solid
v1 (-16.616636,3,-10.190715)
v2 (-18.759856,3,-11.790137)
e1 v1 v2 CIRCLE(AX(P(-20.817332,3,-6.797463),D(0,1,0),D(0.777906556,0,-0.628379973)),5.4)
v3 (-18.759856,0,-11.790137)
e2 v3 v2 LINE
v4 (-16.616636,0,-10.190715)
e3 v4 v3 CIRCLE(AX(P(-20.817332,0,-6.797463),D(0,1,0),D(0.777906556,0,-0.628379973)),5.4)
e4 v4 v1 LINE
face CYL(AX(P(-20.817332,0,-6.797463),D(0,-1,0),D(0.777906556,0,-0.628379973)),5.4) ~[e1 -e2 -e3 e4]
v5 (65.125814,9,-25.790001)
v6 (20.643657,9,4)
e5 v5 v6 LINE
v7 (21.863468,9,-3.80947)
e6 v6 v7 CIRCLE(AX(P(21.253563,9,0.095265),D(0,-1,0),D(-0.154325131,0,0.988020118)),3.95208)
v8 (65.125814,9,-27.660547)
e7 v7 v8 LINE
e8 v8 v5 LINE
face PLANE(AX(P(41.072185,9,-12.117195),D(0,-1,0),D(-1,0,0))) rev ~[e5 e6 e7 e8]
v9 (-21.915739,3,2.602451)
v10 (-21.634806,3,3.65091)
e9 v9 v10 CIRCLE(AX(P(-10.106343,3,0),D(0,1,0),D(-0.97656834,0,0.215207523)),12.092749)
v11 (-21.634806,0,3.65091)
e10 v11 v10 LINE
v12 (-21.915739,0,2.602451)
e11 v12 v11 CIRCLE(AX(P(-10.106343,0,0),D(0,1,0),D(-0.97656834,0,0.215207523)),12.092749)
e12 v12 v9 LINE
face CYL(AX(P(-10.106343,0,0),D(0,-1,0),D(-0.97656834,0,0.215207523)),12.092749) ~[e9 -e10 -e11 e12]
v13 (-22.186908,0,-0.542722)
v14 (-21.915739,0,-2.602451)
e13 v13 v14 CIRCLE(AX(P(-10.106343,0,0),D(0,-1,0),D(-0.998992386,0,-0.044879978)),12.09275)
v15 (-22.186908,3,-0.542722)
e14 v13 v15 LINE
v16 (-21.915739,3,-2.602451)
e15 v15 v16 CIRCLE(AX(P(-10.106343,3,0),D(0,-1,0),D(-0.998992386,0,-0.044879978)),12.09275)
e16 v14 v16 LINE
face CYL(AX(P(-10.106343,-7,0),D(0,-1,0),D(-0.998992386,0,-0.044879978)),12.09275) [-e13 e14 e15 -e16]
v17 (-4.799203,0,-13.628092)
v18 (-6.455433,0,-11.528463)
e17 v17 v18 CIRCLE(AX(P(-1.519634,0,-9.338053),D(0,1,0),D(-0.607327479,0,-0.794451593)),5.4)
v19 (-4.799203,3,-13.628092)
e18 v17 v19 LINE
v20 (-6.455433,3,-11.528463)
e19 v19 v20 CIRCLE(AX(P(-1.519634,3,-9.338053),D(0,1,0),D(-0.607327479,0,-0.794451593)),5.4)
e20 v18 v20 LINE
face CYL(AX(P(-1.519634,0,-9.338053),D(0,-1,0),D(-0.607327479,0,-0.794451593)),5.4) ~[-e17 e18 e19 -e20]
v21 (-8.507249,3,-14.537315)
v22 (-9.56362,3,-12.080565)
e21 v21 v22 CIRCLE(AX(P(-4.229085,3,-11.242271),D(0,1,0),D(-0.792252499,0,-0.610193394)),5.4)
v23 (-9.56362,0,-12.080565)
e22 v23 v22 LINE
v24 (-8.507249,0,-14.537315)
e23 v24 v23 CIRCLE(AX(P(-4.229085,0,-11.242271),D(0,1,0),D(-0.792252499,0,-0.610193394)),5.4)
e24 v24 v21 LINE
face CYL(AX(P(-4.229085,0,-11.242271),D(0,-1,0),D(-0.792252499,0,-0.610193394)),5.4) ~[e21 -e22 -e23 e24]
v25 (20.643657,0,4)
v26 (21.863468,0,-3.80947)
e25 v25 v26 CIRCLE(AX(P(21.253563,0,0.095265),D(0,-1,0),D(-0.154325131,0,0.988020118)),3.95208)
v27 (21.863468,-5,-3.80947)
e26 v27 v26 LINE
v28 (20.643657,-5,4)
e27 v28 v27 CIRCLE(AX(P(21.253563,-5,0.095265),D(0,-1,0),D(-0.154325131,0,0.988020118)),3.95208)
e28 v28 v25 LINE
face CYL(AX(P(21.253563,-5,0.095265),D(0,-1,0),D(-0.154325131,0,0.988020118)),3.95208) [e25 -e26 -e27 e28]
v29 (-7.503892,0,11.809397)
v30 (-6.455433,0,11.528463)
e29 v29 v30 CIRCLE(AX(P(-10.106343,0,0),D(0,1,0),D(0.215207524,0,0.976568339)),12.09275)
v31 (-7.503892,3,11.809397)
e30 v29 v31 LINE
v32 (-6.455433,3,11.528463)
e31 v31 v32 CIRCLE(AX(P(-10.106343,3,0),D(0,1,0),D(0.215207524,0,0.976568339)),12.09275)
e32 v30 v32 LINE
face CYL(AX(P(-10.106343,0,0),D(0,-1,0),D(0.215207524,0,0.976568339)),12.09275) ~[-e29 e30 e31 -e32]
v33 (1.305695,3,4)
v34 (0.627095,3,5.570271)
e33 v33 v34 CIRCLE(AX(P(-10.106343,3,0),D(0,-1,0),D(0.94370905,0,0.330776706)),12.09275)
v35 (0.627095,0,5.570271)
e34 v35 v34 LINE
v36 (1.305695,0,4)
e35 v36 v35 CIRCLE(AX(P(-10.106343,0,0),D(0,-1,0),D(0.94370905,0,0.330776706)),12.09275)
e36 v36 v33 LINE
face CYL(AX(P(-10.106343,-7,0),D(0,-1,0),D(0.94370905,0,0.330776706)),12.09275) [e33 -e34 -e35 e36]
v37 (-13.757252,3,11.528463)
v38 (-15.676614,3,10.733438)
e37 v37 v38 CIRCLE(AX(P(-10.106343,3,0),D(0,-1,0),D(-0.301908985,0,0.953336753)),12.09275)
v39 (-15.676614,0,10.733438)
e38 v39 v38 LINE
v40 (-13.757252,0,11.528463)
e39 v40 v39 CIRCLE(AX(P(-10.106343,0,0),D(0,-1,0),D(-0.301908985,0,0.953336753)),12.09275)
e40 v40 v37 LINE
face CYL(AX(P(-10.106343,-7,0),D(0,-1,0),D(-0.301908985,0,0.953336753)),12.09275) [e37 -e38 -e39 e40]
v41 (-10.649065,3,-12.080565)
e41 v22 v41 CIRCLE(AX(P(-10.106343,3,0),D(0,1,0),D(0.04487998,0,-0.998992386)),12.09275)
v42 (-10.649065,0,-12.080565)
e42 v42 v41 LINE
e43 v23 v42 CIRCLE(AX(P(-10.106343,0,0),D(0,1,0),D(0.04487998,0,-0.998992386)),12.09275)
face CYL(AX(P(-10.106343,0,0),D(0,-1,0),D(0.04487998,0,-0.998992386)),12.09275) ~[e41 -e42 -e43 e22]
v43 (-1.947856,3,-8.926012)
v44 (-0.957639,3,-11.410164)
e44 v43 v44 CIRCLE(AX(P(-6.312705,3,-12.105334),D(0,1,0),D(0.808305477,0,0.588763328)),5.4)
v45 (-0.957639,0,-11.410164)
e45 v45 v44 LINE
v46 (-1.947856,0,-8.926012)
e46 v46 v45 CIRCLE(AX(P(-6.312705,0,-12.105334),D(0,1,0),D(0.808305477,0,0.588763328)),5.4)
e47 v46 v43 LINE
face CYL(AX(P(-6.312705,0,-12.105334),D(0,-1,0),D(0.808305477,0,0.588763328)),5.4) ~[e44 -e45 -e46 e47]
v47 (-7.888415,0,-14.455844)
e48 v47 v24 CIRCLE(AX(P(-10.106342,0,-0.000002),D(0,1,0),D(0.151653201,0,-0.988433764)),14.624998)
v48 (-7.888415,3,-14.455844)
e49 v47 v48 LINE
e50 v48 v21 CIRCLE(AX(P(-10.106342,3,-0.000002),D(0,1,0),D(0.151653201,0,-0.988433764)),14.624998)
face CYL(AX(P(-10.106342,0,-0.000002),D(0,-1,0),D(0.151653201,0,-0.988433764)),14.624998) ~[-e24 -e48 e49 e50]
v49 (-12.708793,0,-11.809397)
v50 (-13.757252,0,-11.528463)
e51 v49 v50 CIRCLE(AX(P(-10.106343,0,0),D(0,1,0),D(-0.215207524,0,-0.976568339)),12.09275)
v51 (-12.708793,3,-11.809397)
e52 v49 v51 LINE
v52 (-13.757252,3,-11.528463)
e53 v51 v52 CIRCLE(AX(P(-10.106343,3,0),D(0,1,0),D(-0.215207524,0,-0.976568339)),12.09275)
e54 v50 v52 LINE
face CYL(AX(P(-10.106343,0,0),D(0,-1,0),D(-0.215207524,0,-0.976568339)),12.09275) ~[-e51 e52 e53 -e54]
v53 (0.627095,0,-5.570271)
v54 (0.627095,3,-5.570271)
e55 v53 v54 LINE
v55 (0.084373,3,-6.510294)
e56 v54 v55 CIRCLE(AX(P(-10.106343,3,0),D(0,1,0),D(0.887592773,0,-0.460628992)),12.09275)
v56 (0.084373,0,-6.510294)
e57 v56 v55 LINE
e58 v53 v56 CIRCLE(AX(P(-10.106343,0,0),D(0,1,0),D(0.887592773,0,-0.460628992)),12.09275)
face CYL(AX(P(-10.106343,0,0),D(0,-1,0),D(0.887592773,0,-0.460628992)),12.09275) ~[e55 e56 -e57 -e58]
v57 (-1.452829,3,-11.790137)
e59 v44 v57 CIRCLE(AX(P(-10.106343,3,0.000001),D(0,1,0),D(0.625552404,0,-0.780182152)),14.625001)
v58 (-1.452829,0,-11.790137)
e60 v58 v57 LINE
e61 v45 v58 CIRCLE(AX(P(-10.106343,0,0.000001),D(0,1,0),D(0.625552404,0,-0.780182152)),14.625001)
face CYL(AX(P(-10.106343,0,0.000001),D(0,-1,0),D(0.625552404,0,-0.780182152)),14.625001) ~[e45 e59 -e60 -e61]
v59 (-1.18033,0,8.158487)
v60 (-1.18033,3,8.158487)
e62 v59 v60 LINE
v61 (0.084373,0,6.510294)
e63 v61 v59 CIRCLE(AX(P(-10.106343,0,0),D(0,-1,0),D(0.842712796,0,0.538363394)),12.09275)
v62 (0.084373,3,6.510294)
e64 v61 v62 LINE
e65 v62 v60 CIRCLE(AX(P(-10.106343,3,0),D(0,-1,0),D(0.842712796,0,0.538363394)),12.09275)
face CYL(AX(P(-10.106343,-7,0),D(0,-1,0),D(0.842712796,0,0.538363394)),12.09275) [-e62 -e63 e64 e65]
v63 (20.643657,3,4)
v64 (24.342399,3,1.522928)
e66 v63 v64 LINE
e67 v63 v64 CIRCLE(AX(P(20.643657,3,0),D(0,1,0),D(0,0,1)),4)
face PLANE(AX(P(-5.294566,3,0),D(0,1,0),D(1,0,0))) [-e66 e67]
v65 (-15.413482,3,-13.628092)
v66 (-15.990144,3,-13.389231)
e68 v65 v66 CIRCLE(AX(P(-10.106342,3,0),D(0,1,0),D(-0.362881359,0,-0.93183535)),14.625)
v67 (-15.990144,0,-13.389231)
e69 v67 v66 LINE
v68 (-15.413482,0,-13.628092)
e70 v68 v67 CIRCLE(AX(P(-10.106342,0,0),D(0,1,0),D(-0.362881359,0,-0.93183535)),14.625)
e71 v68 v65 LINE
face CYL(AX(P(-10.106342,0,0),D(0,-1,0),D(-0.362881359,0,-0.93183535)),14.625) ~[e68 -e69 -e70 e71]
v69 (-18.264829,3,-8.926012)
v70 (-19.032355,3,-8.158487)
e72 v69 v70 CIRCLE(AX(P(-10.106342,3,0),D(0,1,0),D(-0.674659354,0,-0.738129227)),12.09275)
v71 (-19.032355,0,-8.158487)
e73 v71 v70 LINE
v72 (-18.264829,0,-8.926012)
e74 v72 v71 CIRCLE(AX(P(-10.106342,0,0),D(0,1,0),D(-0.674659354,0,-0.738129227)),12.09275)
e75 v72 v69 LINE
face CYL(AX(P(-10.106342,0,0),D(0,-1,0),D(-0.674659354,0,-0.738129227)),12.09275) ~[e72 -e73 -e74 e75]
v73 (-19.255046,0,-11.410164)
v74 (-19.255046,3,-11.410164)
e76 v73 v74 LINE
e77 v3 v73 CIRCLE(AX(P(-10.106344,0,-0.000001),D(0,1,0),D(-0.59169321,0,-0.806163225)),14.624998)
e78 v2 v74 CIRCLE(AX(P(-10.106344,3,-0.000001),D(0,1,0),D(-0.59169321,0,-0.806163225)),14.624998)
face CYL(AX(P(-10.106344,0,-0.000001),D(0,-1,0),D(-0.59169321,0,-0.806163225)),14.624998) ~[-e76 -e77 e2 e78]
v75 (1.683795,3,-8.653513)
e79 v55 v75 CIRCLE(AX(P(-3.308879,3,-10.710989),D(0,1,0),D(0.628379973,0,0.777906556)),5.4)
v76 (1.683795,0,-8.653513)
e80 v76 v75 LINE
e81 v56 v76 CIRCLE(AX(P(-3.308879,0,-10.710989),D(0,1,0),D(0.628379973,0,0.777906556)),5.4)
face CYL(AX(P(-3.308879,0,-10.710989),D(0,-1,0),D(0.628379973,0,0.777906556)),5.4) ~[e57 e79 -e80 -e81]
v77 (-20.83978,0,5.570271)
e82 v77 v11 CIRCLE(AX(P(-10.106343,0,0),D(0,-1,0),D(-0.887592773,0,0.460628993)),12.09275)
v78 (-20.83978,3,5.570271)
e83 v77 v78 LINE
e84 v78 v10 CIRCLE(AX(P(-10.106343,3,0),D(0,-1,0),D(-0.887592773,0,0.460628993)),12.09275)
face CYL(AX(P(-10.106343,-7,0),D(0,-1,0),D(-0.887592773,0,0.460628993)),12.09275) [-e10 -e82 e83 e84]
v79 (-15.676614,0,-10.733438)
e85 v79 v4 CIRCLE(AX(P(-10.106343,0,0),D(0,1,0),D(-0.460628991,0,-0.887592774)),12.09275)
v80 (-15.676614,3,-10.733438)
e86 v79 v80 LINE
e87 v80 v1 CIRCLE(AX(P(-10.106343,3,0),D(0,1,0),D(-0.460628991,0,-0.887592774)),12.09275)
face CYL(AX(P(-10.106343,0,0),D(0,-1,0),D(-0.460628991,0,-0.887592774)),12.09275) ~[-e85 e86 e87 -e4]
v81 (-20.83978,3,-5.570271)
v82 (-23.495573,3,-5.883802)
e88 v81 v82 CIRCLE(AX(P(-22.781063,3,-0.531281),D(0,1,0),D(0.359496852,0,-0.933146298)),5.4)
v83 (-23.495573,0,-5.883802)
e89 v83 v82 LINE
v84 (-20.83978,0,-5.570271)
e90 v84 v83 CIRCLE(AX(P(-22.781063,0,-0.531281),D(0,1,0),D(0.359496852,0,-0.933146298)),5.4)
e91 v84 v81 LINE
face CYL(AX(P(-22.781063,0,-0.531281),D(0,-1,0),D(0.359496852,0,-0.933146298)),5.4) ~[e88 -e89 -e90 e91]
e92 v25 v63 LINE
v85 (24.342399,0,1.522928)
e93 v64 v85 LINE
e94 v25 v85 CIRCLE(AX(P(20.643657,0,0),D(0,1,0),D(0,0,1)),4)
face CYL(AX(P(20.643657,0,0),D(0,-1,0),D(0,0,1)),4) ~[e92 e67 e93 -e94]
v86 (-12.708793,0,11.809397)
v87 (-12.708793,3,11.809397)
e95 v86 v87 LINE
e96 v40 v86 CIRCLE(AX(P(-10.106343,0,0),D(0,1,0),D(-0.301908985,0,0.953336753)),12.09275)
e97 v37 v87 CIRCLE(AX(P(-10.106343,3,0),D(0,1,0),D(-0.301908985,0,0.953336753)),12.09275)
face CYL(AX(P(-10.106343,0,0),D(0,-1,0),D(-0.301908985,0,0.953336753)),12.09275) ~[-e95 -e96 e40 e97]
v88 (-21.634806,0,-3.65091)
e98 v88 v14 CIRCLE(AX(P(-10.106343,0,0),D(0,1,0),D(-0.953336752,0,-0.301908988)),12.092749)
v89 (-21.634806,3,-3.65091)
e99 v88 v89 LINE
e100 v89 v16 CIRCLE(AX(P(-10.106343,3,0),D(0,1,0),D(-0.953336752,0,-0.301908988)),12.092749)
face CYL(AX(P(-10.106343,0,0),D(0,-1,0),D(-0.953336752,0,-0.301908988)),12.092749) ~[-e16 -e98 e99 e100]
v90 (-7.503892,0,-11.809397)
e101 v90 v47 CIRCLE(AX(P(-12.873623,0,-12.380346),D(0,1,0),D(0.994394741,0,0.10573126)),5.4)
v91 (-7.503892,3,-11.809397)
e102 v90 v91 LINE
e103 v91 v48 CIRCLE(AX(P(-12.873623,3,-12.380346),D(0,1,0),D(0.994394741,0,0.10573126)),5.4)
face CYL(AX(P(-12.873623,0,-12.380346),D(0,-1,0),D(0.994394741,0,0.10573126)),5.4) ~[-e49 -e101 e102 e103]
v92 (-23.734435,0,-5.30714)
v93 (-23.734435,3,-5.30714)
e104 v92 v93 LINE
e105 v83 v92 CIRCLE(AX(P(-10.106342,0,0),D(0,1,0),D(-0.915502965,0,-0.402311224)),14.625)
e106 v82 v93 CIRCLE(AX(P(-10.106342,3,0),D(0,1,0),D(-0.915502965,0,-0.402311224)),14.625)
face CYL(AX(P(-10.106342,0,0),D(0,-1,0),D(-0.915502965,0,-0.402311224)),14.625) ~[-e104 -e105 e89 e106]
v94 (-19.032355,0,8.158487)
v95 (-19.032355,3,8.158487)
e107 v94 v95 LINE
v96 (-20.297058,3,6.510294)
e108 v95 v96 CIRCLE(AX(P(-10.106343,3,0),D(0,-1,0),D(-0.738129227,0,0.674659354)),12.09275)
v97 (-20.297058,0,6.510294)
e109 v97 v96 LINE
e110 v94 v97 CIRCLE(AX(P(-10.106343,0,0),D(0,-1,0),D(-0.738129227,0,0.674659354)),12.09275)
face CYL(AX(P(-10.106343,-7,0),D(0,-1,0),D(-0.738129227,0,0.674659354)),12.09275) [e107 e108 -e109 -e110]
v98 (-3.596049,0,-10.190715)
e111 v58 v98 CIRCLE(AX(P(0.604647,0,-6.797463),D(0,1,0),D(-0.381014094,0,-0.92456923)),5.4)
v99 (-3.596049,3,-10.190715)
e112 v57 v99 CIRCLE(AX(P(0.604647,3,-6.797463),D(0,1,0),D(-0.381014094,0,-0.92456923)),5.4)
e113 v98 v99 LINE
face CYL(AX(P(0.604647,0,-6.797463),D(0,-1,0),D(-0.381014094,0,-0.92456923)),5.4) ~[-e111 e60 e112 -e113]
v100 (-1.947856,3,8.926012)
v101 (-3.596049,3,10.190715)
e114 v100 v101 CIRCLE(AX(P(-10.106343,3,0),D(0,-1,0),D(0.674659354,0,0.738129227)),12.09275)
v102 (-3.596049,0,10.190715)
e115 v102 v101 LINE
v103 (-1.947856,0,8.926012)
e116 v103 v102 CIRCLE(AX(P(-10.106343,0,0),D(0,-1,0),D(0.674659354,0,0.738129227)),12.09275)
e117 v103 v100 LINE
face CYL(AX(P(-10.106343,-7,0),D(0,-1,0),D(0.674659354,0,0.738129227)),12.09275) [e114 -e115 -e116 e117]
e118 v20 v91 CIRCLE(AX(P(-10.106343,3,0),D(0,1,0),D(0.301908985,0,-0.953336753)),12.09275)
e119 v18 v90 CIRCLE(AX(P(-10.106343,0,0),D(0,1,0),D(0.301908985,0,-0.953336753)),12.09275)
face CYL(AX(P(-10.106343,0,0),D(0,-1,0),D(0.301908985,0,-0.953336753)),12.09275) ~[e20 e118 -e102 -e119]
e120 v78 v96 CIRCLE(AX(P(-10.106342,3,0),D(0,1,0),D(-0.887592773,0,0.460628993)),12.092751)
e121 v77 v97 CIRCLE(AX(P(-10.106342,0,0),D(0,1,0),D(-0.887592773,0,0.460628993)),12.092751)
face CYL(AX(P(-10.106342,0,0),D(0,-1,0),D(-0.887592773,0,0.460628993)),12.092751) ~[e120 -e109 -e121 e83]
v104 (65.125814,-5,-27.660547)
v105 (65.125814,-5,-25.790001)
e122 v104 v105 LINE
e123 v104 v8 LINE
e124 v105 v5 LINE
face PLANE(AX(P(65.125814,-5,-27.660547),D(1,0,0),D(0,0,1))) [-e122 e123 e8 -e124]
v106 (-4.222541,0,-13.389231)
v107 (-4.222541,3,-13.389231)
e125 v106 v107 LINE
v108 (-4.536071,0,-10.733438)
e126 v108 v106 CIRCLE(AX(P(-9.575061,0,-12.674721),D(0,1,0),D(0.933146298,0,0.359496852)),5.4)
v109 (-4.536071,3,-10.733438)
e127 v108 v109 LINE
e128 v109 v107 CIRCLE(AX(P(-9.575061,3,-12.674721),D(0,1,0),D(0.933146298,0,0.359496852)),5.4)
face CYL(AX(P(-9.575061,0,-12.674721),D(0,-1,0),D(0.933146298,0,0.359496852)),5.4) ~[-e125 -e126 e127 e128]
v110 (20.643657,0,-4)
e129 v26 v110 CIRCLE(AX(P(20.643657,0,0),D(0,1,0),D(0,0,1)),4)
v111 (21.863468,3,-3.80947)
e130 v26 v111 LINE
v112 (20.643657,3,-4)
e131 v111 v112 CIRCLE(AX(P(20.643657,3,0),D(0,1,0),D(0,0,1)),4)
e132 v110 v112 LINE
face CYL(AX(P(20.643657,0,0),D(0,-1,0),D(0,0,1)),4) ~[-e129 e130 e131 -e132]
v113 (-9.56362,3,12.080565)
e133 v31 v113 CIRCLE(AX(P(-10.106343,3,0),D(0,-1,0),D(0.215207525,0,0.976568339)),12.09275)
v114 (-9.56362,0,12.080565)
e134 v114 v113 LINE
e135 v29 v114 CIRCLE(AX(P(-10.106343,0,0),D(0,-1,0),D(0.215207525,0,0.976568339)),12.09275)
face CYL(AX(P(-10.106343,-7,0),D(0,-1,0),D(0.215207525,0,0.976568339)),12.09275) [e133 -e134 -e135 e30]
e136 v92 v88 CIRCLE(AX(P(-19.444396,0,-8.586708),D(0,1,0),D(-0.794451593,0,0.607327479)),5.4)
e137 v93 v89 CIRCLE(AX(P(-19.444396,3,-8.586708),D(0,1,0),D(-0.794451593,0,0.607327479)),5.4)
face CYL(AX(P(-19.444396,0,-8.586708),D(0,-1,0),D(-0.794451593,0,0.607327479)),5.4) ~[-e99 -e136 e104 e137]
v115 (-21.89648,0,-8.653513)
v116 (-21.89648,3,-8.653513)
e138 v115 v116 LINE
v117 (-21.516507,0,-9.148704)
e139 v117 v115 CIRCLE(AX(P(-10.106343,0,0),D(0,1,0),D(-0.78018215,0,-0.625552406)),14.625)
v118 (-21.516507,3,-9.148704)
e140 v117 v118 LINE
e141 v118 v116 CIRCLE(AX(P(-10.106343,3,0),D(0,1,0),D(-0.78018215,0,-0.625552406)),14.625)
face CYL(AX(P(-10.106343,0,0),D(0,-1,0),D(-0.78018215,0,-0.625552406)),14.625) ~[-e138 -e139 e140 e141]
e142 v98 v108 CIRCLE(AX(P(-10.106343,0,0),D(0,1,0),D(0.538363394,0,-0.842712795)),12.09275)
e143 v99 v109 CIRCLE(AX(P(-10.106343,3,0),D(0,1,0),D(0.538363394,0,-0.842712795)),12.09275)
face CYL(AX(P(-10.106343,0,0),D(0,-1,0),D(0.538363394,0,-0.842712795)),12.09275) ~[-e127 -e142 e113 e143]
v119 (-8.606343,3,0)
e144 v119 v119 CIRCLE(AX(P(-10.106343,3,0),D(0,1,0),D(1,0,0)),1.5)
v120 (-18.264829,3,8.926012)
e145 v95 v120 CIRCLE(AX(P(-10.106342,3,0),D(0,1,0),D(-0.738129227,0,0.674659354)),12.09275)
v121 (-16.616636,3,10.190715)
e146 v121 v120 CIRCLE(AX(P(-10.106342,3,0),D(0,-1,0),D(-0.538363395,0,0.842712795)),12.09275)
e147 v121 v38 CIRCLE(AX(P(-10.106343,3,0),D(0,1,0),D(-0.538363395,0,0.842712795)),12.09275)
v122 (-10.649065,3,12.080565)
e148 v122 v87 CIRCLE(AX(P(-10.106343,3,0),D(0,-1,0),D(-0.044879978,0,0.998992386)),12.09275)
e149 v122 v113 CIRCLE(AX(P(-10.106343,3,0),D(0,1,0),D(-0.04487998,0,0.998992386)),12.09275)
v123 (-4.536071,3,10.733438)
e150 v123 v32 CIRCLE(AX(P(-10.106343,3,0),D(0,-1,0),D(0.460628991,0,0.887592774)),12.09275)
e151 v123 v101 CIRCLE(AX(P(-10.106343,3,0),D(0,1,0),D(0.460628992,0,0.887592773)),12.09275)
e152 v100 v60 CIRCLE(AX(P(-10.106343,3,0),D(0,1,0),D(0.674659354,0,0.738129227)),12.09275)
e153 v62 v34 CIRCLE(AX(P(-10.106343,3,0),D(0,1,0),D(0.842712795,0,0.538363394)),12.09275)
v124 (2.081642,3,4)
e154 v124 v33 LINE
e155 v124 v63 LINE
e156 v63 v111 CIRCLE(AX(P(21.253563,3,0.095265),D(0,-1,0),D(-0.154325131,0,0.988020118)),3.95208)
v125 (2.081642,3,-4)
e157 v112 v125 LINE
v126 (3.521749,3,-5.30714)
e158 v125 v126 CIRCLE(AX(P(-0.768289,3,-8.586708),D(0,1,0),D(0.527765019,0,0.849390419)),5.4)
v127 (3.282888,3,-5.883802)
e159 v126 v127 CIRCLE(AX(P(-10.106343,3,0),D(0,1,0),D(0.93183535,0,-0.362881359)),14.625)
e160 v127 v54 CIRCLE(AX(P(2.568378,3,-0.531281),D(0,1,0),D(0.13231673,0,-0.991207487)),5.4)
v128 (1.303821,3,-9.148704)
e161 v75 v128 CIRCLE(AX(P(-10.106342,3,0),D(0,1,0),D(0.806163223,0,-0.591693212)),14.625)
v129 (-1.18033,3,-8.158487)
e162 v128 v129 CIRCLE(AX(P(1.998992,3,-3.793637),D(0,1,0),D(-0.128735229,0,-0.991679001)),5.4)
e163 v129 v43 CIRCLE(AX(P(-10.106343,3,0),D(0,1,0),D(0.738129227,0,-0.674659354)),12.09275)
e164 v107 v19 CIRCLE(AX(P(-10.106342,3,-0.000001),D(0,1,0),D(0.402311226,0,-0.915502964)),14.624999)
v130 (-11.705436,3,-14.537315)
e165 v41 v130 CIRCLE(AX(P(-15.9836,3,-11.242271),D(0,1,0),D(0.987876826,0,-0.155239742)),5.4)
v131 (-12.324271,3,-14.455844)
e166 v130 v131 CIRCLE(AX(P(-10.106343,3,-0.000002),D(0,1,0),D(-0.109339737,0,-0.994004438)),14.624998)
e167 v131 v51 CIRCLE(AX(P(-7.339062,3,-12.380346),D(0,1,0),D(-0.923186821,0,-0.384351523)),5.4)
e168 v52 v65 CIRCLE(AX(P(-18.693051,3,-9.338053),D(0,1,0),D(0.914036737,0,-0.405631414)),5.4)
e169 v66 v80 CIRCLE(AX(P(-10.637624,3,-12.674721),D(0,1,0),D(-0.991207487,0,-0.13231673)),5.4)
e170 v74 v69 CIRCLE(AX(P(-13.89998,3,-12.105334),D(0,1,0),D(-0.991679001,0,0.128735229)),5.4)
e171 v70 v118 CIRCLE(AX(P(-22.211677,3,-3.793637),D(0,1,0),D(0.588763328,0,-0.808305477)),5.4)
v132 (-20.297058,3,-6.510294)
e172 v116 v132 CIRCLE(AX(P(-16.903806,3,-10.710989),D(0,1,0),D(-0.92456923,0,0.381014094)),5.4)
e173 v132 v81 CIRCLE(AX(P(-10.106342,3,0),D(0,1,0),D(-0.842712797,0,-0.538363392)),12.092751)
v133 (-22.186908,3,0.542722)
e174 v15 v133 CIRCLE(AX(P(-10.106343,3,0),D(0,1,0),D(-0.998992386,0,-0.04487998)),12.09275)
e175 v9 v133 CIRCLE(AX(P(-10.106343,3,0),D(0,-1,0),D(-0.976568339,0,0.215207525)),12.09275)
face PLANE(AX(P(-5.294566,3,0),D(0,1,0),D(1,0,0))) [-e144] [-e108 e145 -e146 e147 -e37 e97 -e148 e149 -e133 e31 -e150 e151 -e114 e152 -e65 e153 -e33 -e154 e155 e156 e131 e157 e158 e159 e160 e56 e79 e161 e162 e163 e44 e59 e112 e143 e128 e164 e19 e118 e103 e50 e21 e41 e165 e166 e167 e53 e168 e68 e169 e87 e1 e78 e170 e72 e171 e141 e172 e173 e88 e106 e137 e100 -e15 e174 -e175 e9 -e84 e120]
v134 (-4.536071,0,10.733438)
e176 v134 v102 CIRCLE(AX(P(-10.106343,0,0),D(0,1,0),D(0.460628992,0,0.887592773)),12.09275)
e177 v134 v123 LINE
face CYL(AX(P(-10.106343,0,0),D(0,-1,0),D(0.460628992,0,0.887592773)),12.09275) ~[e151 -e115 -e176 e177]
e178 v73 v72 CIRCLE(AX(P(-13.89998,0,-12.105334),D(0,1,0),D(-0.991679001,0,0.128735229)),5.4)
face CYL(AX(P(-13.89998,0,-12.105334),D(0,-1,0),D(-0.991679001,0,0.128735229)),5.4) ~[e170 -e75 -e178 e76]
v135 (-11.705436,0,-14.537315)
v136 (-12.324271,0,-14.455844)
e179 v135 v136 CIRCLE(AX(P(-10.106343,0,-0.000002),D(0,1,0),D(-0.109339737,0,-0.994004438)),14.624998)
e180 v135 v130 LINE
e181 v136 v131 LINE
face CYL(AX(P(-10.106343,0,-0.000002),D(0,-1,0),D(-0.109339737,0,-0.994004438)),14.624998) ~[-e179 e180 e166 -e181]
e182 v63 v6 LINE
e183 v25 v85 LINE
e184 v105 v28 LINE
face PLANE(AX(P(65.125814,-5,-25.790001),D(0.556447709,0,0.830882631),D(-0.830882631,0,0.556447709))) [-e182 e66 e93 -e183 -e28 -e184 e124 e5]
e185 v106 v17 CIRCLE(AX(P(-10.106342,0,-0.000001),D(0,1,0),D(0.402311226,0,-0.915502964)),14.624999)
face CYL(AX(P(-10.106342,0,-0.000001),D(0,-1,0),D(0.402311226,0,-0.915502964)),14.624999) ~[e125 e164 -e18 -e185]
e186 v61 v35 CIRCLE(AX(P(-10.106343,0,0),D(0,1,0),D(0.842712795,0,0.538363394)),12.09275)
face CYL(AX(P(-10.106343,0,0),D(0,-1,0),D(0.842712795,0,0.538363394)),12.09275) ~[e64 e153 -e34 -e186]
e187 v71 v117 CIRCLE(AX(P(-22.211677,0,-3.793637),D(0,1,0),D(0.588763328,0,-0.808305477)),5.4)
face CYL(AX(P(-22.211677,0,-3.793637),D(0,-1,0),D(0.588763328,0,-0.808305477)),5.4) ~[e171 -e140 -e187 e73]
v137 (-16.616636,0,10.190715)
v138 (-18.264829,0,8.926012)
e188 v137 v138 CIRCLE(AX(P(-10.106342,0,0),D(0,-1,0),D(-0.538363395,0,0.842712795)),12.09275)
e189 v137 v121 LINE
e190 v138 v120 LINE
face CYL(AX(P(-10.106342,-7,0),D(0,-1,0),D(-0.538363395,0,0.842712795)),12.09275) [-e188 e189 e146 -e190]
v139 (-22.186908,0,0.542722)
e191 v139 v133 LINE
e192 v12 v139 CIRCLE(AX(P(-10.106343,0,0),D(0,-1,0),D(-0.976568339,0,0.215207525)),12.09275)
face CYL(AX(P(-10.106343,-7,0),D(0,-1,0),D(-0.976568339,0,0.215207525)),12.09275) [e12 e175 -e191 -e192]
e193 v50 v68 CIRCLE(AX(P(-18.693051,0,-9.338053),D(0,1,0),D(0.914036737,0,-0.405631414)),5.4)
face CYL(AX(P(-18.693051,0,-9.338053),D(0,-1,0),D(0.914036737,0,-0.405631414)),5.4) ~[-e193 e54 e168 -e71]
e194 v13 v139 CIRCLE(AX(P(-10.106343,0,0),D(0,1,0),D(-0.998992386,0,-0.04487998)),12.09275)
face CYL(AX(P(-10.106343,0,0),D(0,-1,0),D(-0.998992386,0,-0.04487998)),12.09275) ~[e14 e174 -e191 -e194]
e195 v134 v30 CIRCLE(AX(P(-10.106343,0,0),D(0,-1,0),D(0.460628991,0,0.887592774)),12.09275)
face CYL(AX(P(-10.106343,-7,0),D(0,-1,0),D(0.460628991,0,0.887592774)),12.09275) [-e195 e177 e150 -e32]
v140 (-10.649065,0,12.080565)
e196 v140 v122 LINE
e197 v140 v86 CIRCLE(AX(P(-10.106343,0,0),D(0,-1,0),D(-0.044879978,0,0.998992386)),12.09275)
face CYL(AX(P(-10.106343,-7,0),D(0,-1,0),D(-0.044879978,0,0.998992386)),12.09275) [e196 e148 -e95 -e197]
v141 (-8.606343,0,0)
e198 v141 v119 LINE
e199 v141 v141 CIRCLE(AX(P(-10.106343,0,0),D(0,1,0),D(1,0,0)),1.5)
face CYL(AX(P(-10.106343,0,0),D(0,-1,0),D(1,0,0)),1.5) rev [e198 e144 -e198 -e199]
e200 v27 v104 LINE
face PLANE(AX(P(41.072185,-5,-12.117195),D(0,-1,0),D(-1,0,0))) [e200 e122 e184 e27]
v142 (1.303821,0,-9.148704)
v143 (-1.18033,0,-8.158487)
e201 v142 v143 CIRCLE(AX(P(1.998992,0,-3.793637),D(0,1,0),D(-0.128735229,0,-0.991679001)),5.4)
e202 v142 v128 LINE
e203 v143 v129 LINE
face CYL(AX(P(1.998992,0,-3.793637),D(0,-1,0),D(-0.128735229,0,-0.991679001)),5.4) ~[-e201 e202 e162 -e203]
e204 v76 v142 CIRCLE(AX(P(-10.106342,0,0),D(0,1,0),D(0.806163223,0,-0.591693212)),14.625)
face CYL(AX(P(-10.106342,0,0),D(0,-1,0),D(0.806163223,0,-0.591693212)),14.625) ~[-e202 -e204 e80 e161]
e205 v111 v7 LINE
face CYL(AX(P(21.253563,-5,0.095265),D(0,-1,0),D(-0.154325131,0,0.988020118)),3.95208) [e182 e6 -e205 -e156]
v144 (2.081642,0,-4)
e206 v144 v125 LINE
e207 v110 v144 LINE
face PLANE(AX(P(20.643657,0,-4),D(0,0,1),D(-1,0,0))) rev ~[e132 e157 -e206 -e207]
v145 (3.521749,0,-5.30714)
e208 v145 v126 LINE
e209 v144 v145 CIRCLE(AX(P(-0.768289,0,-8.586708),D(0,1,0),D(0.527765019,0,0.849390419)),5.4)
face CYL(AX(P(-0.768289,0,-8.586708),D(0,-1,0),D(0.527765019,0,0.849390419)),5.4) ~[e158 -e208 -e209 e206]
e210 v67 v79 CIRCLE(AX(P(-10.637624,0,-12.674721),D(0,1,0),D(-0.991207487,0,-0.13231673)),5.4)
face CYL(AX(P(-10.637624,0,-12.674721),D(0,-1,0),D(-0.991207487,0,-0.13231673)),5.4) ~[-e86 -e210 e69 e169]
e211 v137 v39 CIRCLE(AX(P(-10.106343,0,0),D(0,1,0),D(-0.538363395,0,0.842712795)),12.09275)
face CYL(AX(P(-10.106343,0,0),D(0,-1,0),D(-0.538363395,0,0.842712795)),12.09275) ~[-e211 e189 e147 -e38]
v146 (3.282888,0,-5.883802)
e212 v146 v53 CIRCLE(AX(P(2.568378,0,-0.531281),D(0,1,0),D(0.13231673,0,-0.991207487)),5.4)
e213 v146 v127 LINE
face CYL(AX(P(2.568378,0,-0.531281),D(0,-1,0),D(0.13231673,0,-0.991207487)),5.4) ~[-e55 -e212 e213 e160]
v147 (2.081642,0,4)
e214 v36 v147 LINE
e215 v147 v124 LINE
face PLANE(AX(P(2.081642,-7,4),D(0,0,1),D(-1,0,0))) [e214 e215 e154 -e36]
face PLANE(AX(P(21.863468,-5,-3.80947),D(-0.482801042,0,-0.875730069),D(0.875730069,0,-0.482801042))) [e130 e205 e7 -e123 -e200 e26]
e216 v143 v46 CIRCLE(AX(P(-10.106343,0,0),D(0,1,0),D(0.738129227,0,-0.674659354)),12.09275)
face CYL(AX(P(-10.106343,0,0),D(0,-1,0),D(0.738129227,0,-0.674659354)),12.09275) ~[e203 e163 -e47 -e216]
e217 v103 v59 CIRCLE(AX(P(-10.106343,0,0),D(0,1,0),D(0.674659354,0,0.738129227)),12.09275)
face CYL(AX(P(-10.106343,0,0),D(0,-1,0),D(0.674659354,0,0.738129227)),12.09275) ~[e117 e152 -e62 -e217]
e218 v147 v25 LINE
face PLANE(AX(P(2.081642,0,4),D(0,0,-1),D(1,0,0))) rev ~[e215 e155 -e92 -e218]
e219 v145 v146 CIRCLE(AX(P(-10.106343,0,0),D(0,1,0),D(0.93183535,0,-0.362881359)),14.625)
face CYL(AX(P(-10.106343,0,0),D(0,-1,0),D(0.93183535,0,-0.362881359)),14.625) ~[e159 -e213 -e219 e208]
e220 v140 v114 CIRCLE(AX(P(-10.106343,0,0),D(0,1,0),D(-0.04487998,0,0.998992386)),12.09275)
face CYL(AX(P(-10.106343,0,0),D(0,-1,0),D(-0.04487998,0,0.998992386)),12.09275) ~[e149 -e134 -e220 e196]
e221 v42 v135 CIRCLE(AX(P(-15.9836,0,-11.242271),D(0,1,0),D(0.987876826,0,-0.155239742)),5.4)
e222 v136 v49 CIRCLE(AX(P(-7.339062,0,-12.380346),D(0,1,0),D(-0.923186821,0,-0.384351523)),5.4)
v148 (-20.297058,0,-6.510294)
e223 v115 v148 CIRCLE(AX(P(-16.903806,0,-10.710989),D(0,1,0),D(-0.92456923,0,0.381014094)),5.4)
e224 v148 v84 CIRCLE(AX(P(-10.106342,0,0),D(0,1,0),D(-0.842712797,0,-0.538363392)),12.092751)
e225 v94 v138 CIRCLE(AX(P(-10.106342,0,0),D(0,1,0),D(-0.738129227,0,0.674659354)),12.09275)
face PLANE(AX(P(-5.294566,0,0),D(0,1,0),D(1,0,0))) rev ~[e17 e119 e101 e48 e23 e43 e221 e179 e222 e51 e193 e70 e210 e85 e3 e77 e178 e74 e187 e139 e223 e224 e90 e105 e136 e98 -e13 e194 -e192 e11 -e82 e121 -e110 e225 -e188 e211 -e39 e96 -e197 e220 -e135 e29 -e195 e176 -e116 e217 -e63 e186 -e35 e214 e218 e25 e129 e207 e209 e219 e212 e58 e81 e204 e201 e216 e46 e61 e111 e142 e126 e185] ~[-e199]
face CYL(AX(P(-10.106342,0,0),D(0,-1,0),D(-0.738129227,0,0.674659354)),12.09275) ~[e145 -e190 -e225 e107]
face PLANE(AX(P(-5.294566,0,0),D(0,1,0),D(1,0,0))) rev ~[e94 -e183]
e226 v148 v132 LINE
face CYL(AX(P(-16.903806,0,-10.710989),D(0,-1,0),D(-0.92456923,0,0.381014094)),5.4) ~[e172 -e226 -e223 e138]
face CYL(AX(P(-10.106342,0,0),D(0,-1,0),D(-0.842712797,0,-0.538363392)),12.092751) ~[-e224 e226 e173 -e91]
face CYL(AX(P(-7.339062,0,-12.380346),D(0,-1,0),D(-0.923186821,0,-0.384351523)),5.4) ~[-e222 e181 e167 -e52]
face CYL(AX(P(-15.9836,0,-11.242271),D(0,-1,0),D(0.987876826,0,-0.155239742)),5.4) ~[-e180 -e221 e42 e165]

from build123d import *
from build123d.topology import SkipClean

# Parameters (mm, degrees)
SKETCH1_R                = 1.5
BOSS_EXTRUDE1_DEPTH      = 3
CUT_EXTRUDE1_START       = -10
CUT_EXTRUDE1_DEPTH       = 10
BOSS_EXTRUDE2_DEPTH      = 6
BOSS_EXTRUDE2_DEPTH_BACK = 8


with BuildPart() as part:
    # Sketch1 → Boss-Extrude1 (new body)
    with BuildSketch(Plane(origin=(0, 0, 0), x_dir=(1, 0, 0), z_dir=(0, 1, 0))):
        with BuildLine():
            Line((20.643657446, 4), (2.081641936, 4))
            ThreePointArc((2.081641936, 4), (2.861028333, 4.588201733), (3.521749436, 5.30713988))
            ThreePointArc((3.521749436, 5.30713988), (3.405395609, 5.596745198), (3.282888305, 5.883801663))
            ThreePointArc((3.282888305, 5.883801663), (1.93527598, 5.894040025), (0.627094961, 5.57027124))
            ThreePointArc((0.627094961, 5.57027124), (0.366286148, 6.046375), (0.084372603, 6.510293938))
            ThreePointArc((0.084372603, 6.510293938), (1.018855105, 7.48132754), (1.683794586, 8.65351323))
            ThreePointArc((1.683794586, 8.65351323), (1.496450048, 8.903135899), (1.303821399, 9.148703928))
            ThreePointArc((1.303821399, 9.148703928), (-0.000522033, 8.809805691), (-1.180330337, 8.158486898))
            ThreePointArc((-1.180330337, 8.158486898), (-1.555477026, 8.550865528), (-1.947855656, 8.926012217))
            ThreePointArc((-1.947855656, 8.926012217), (-1.296536862, 10.105820521), (-0.957638625, 11.410163953))
            ThreePointArc((-0.957638625, 11.410163953), (-1.203206655, 11.602792602), (-1.452829324, 11.79013714))
            ThreePointArc((-1.452829324, 11.79013714), (-2.625015014, 11.125197659), (-3.596048616, 10.190715157))
            ThreePointArc((-3.596048616, 10.190715157), (-4.059967554, 10.472628702), (-4.536071314, 10.733437515))
            ThreePointArc((-4.536071314, 10.733437515), (-4.212302529, 12.041618533), (-4.222540891, 13.389230859))
            ThreePointArc((-4.222540891, 13.389230859), (-4.509597355, 13.511738163), (-4.799202674, 13.62809199))
            ThreePointArc((-4.799202674, 13.62809199), (-5.759348103, 12.682425791), (-6.455432668, 11.528463019))
            ThreePointArc((-6.455432668, 11.528463019), (-6.976508546, 11.680699536), (-7.503891752, 11.809396783))
            ThreePointArc((-7.503891752, 11.809396783), (-7.529737283, 13.156800143), (-7.888414517, 14.455843809))
            ThreePointArc((-7.888414517, 14.455843809), (-8.197396993, 14.499881098), (-8.507248835, 14.537314892))
            ThreePointArc((-8.507248835, 14.537314892), (-9.18992168, 13.375367565), (-9.563620196, 12.080565177))
            ThreePointArc((-9.563620196, 12.080565177), (-10.106342554, 12.09275), (-10.649064912, 12.080565177))
            ThreePointArc((-10.649064912, 12.080565177), (-11.022763428, 13.375367565), (-11.705436272, 14.537314892))
            ThreePointArc((-11.705436272, 14.537314892), (-12.015288115, 14.499881098), (-12.324270591, 14.455843809))
            ThreePointArc((-12.324270591, 14.455843809), (-12.682947825, 13.156800143), (-12.708793355, 11.809396783))
            ThreePointArc((-12.708793355, 11.809396783), (-13.236176561, 11.680699536), (-13.757252439, 11.528463019))
            ThreePointArc((-13.757252439, 11.528463019), (-14.453337005, 12.682425791), (-15.413482434, 13.62809199))
            ThreePointArc((-15.413482434, 13.62809199), (-15.703087752, 13.511738163), (-15.990144217, 13.389230859))
            ThreePointArc((-15.990144217, 13.389230859), (-16.000382579, 12.041618533), (-15.676613793, 10.733437515))
            ThreePointArc((-15.676613793, 10.733437515), (-16.152717554, 10.472628702), (-16.616636492, 10.190715157))
            ThreePointArc((-16.616636492, 10.190715157), (-17.587670094, 11.125197659), (-18.759855783, 11.79013714))
            ThreePointArc((-18.759855783, 11.79013714), (-19.009478453, 11.602792602), (-19.255046482, 11.410163953))
            ThreePointArc((-19.255046482, 11.410163953), (-18.916148245, 10.105820521), (-18.264829452, 8.926012217))
            ThreePointArc((-18.264829452, 8.926012217), (-18.657208082, 8.550865528), (-19.032354771, 8.158486898))
            ThreePointArc((-19.032354771, 8.158486898), (-20.212163074, 8.809805691), (-21.516506507, 9.148703928))
            ThreePointArc((-21.516506507, 9.148703928), (-21.709135156, 8.903135899), (-21.896479694, 8.65351323))
            ThreePointArc((-21.896479694, 8.65351323), (-21.231540213, 7.48132754), (-20.297057711, 6.510293938))
            ThreePointArc((-20.297057711, 6.510293938), (-20.578971255, 6.046375), (-20.839780068, 5.57027124))
            ThreePointArc((-20.839780068, 5.57027124), (-22.147961087, 5.894040025), (-23.495573413, 5.883801663))
            ThreePointArc((-23.495573413, 5.883801663), (-23.618080717, 5.596745198), (-23.734434544, 5.30713988))
            ThreePointArc((-23.734434544, 5.30713988), (-22.788768345, 4.346994451), (-21.634805572, 3.650909885))
            ThreePointArc((-21.634805572, 3.650909885), (-21.78704209, 3.129834008), (-21.915739337, 2.602450802))
            ThreePointArc((-21.915739337, 2.602450802), (-23.263142697, 2.576605271), (-24.562186363, 2.217928037))
            ThreePointArc((-24.562186363, 2.217928037), (-24.606223651, 1.908945561), (-24.643657446, 1.599093719))
            ThreePointArc((-24.643657446, 1.599093719), (-23.481710119, 0.916420874), (-22.186907731, 0.542722358))
            ThreePointArc((-22.186907731, 0.542722358), (-22.199092554, 0), (-22.186907731, -0.542722358))
            ThreePointArc((-22.186907731, -0.542722358), (-23.481710119, -0.916420874), (-24.643657446, -1.599093719))
            ThreePointArc((-24.643657446, -1.599093719), (-24.606223651, -1.908945561), (-24.562186363, -2.217928037))
            ThreePointArc((-24.562186363, -2.217928037), (-23.263142697, -2.576605271), (-21.915739337, -2.602450802))
            ThreePointArc((-21.915739337, -2.602450802), (-21.78704209, -3.129834008), (-21.634805572, -3.650909885))
            ThreePointArc((-21.634805572, -3.650909885), (-22.788768345, -4.346994451), (-23.734434544, -5.30713988))
            ThreePointArc((-23.734434544, -5.30713988), (-23.618080717, -5.596745198), (-23.495573413, -5.883801663))
            ThreePointArc((-23.495573413, -5.883801663), (-22.147961087, -5.894040025), (-20.839780068, -5.57027124))
            ThreePointArc((-20.839780068, -5.57027124), (-20.578971255, -6.046375), (-20.297057711, -6.510293938))
            ThreePointArc((-20.297057711, -6.510293938), (-21.231540213, -7.48132754), (-21.896479694, -8.65351323))
            ThreePointArc((-21.896479694, -8.65351323), (-21.709135156, -8.903135899), (-21.516506507, -9.148703928))
            ThreePointArc((-21.516506507, -9.148703928), (-20.212163074, -8.809805691), (-19.032354771, -8.158486898))
            ThreePointArc((-19.032354771, -8.158486898), (-18.657208082, -8.550865528), (-18.264829452, -8.926012217))
            ThreePointArc((-18.264829452, -8.926012217), (-18.916148245, -10.105820521), (-19.255046482, -11.410163953))
            ThreePointArc((-19.255046482, -11.410163953), (-19.009478453, -11.602792602), (-18.759855783, -11.79013714))
            ThreePointArc((-18.759855783, -11.79013714), (-17.587670094, -11.125197659), (-16.616636492, -10.190715157))
            ThreePointArc((-16.616636492, -10.190715157), (-16.152717554, -10.472628702), (-15.676613793, -10.733437515))
            ThreePointArc((-15.676613793, -10.733437515), (-16.000382579, -12.041618533), (-15.990144217, -13.389230859))
            ThreePointArc((-15.990144217, -13.389230859), (-15.703087752, -13.511738163), (-15.413482434, -13.62809199))
            ThreePointArc((-15.413482434, -13.62809199), (-14.453337005, -12.682425791), (-13.757252439, -11.528463019))
            ThreePointArc((-13.757252439, -11.528463019), (-13.236176561, -11.680699536), (-12.708793355, -11.809396783))
            ThreePointArc((-12.708793355, -11.809396783), (-12.682947825, -13.156800143), (-12.324270591, -14.455843809))
            ThreePointArc((-12.324270591, -14.455843809), (-12.015288115, -14.499881098), (-11.705436272, -14.537314892))
            ThreePointArc((-11.705436272, -14.537314892), (-11.022763428, -13.375367565), (-10.649064912, -12.080565177))
            ThreePointArc((-10.649064912, -12.080565177), (-10.106342554, -12.09275), (-9.563620196, -12.080565177))
            ThreePointArc((-9.563620196, -12.080565177), (-9.18992168, -13.375367565), (-8.507248835, -14.537314892))
            ThreePointArc((-8.507248835, -14.537314892), (-8.197396993, -14.499881098), (-7.888414517, -14.455843809))
            ThreePointArc((-7.888414517, -14.455843809), (-7.529737283, -13.156800143), (-7.503891752, -11.809396783))
            ThreePointArc((-7.503891752, -11.809396783), (-6.976508546, -11.680699536), (-6.455432668, -11.528463019))
            ThreePointArc((-6.455432668, -11.528463019), (-5.759348103, -12.682425791), (-4.799202674, -13.62809199))
            ThreePointArc((-4.799202674, -13.62809199), (-4.509597355, -13.511738163), (-4.222540891, -13.389230859))
            ThreePointArc((-4.222540891, -13.389230859), (-4.212302529, -12.041618533), (-4.536071314, -10.733437515))
            ThreePointArc((-4.536071314, -10.733437515), (-4.059967554, -10.472628702), (-3.596048616, -10.190715157))
            ThreePointArc((-3.596048616, -10.190715157), (-2.625015014, -11.125197659), (-1.452829324, -11.79013714))
            ThreePointArc((-1.452829324, -11.79013714), (-1.203206655, -11.602792602), (-0.957638625, -11.410163953))
            ThreePointArc((-0.957638625, -11.410163953), (-1.296536862, -10.105820521), (-1.947855656, -8.926012217))
            ThreePointArc((-1.947855656, -8.926012217), (-1.555477026, -8.550865528), (-1.180330337, -8.158486898))
            ThreePointArc((-1.180330337, -8.158486898), (-0.000522033, -8.809805691), (1.303821399, -9.148703928))
            ThreePointArc((1.303821399, -9.148703928), (1.496450048, -8.903135899), (1.683794586, -8.65351323))
            ThreePointArc((1.683794586, -8.65351323), (1.018855105, -7.48132754), (0.084372603, -6.510293938))
            ThreePointArc((0.084372603, -6.510293938), (0.366286148, -6.046375), (0.627094961, -5.57027124))
            ThreePointArc((0.627094961, -5.57027124), (1.93527598, -5.894040025), (3.282888305, -5.883801663))
            ThreePointArc((3.282888305, -5.883801663), (3.405395609, -5.596745198), (3.521749436, -5.30713988))
            ThreePointArc((3.521749436, -5.30713988), (2.861028333, -4.588201733), (2.081641936, -4))
            Line((2.081641936, -4), (20.643657446, -4))
            ThreePointArc((20.643657446, -4), (24.643657446, 0), (20.643657446, 4))
        make_face()
        with Locations((-10.106342554, 0)):
            Circle(SKETCH1_R, mode=Mode.SUBTRACT)
        with Locations((20.643657446, 0)):
            Circle(SKETCH1_R, mode=Mode.SUBTRACT)
    extrude(amount=BOSS_EXTRUDE1_DEPTH)

    # Sketch2 → Cut-Extrude1 (cut)
    with SkipClean():  # the faces are left unmerged after this step: merging them gives an invalid solid
        with BuildSketch(Plane(origin=(0, 3, 0), x_dir=(1, 0, 0), z_dir=(0, 1, 0)).offset(CUT_EXTRUDE1_START)):
            with BuildLine():
                ThreePointArc((3.521749436, -5.30713988), (2.861028333, -4.588201733), (2.081641936, -4))
                Line((2.081641936, -4), (1.305695063, -4))
                ThreePointArc((1.305695063, -4), (0.994195953, -4.797149927), (0.627094961, -5.57027124))
                ThreePointArc((0.627094961, -5.57027124), (1.93527598, -5.894040025), (3.282888305, -5.883801663))
                ThreePointArc((3.282888305, -5.883801663), (3.405395609, -5.596745198), (3.521749436, -5.30713988))
            make_face()
            with BuildLine():
                ThreePointArc((1.683794586, -8.65351323), (1.018855105, -7.48132754), (0.084372603, -6.510293938))
                ThreePointArc((0.084372603, -6.510293938), (-0.512518948, -7.361599771), (-1.180330337, -8.158486898))
                ThreePointArc((-1.180330337, -8.158486898), (-0.000522033, -8.809805691), (1.303821399, -9.148703928))
                ThreePointArc((1.303821399, -9.148703928), (1.496450048, -8.903135899), (1.683794586, -8.65351323))
            make_face()
            with BuildLine():
                ThreePointArc((-0.957638625, -11.410163953), (-1.296536862, -10.105820521), (-1.947855656, -8.926012217))
                ThreePointArc((-1.947855656, -8.926012217), (-2.744742783, -9.593823606), (-3.596048616, -10.190715157))
                ThreePointArc((-3.596048616, -10.190715157), (-2.625015014, -11.125197659), (-1.452829324, -11.79013714))
                ThreePointArc((-1.452829324, -11.79013714), (-1.203206655, -11.602792602), (-0.957638625, -11.410163953))
            make_face()
            with BuildLine():
                ThreePointArc((-4.222540891, -13.389230859), (-4.212302529, -12.041618533), (-4.536071314, -10.733437515))
                ThreePointArc((-4.536071314, -10.733437515), (-5.478647477, -11.172244217), (-6.455432668, -11.528463019))
                ThreePointArc((-6.455432668, -11.528463019), (-5.759348103, -12.682425791), (-4.799202674, -13.62809199))
                ThreePointArc((-4.799202674, -13.62809199), (-4.509597355, -13.511738163), (-4.222540891, -13.389230859))
            make_face()
            with BuildLine():
                ThreePointArc((-7.888414517, -14.455843809), (-7.529737283, -13.156800143), (-7.503891752, -11.809396783))
                ThreePointArc((-7.503891752, -11.809396783), (-8.527921943, -11.989294847), (-9.563620196, -12.080565177))
                ThreePointArc((-9.563620196, -12.080565177), (-9.18992168, -13.375367565), (-8.507248835, -14.537314892))
                ThreePointArc((-8.507248835, -14.537314892), (-8.197396993, -14.499881098), (-7.888414517, -14.455843809))
            make_face()
            with BuildLine():
                ThreePointArc((-11.705436272, -14.537314892), (-11.022763428, -13.375367565), (-10.649064912, -12.080565177))
                ThreePointArc((-10.649064912, -12.080565177), (-11.684763165, -11.989294847), (-12.708793355, -11.809396783))
                ThreePointArc((-12.708793355, -11.809396783), (-12.682947825, -13.156800143), (-12.324270591, -14.455843809))
                ThreePointArc((-12.324270591, -14.455843809), (-12.015288115, -14.499881098), (-11.705436272, -14.537314892))
            make_face()
            with BuildLine():
                ThreePointArc((-15.413482434, -13.62809199), (-14.453337005, -12.682425791), (-13.757252439, -11.528463019))
                ThreePointArc((-13.757252439, -11.528463019), (-14.734037631, -11.172244217), (-15.676613793, -10.733437515))
                ThreePointArc((-15.676613793, -10.733437515), (-16.000382579, -12.041618533), (-15.990144217, -13.389230859))
                ThreePointArc((-15.990144217, -13.389230859), (-15.703087752, -13.511738163), (-15.413482434, -13.62809199))
            make_face()
            with BuildLine():
                ThreePointArc((-18.759855783, -11.79013714), (-17.587670094, -11.125197659), (-16.616636492, -10.190715157))
                ThreePointArc((-16.616636492, -10.190715157), (-17.467942324, -9.593823606), (-18.264829452, -8.926012217))
                ThreePointArc((-18.264829452, -8.926012217), (-18.916148245, -10.105820521), (-19.255046482, -11.410163953))
                ThreePointArc((-19.255046482, -11.410163953), (-19.009478453, -11.602792602), (-18.759855783, -11.79013714))
            make_face()
            with BuildLine():
                ThreePointArc((-21.516506507, -9.148703928), (-20.212163074, -8.809805691), (-19.032354771, -8.158486898))
                ThreePointArc((-19.032354771, -8.158486898), (-19.70016616, -7.361599771), (-20.297057711, -6.510293938))
                ThreePointArc((-20.297057711, -6.510293938), (-21.231540213, -7.48132754), (-21.896479694, -8.65351323))
                ThreePointArc((-21.896479694, -8.65351323), (-21.709135156, -8.903135899), (-21.516506507, -9.148703928))
            make_face()
            with BuildLine():
                ThreePointArc((-23.495573413, -5.883801663), (-22.147961087, -5.894040025), (-20.839780068, -5.57027124))
                ThreePointArc((-20.839780068, -5.57027124), (-21.278586771, -4.627695077), (-21.634805572, -3.650909885))
                ThreePointArc((-21.634805572, -3.650909885), (-22.788768345, -4.346994451), (-23.734434544, -5.30713988))
                ThreePointArc((-23.734434544, -5.30713988), (-23.618080717, -5.596745198), (-23.495573413, -5.883801663))
            make_face()
            with BuildLine():
                ThreePointArc((-24.562186363, -2.217928037), (-23.263142697, -2.576605271), (-21.915739337, -2.602450802))
                ThreePointArc((-21.915739337, -2.602450802), (-22.095637401, -1.578420611), (-22.186907731, -0.542722358))
                ThreePointArc((-22.186907731, -0.542722358), (-23.481710119, -0.916420874), (-24.643657446, -1.599093719))
                ThreePointArc((-24.643657446, -1.599093719), (-24.606223651, -1.908945561), (-24.562186363, -2.217928037))
            make_face()
            with BuildLine():
                ThreePointArc((-22.186907731, 0.542722358), (-22.095637401, 1.578420611), (-21.915739337, 2.602450802))
                ThreePointArc((-21.915739337, 2.602450802), (-23.263142697, 2.576605271), (-24.562186363, 2.217928037))
                ThreePointArc((-24.562186363, 2.217928037), (-24.606223651, 1.908945561), (-24.643657446, 1.599093719))
                ThreePointArc((-24.643657446, 1.599093719), (-23.481710119, 0.916420874), (-22.186907731, 0.542722358))
            make_face()
        extrude(amount=CUT_EXTRUDE1_DEPTH, mode=Mode.SUBTRACT)

    # Sketch3 → Boss-Extrude2 (add, two sides: drawn at the far end of the back side and taken through both)
    with SkipClean():  # the faces are left unmerged after this step: merging them gives an invalid solid
        with BuildSketch(Plane(origin=(0, 3, 0), x_dir=(1, 0, 0), z_dir=(0, 1, 0)).offset(-BOSS_EXTRUDE2_DEPTH_BACK)):
            with BuildLine():
                Line((21.863468117, 3.809470032), (65.125813964, 27.66054744))
                Line((65.125813964, 27.66054744), (65.125813964, 25.790000621))
                Line((65.125813964, 25.790000621), (20.643657446, -4))
                ThreePointArc((20.643657446, -4), (17.348827766, 0.514640352), (21.863468117, 3.809470032))
            make_face()
        extrude(amount=BOSS_EXTRUDE2_DEPTH + BOSS_EXTRUDE2_DEPTH_BACK)


solid = part.part
